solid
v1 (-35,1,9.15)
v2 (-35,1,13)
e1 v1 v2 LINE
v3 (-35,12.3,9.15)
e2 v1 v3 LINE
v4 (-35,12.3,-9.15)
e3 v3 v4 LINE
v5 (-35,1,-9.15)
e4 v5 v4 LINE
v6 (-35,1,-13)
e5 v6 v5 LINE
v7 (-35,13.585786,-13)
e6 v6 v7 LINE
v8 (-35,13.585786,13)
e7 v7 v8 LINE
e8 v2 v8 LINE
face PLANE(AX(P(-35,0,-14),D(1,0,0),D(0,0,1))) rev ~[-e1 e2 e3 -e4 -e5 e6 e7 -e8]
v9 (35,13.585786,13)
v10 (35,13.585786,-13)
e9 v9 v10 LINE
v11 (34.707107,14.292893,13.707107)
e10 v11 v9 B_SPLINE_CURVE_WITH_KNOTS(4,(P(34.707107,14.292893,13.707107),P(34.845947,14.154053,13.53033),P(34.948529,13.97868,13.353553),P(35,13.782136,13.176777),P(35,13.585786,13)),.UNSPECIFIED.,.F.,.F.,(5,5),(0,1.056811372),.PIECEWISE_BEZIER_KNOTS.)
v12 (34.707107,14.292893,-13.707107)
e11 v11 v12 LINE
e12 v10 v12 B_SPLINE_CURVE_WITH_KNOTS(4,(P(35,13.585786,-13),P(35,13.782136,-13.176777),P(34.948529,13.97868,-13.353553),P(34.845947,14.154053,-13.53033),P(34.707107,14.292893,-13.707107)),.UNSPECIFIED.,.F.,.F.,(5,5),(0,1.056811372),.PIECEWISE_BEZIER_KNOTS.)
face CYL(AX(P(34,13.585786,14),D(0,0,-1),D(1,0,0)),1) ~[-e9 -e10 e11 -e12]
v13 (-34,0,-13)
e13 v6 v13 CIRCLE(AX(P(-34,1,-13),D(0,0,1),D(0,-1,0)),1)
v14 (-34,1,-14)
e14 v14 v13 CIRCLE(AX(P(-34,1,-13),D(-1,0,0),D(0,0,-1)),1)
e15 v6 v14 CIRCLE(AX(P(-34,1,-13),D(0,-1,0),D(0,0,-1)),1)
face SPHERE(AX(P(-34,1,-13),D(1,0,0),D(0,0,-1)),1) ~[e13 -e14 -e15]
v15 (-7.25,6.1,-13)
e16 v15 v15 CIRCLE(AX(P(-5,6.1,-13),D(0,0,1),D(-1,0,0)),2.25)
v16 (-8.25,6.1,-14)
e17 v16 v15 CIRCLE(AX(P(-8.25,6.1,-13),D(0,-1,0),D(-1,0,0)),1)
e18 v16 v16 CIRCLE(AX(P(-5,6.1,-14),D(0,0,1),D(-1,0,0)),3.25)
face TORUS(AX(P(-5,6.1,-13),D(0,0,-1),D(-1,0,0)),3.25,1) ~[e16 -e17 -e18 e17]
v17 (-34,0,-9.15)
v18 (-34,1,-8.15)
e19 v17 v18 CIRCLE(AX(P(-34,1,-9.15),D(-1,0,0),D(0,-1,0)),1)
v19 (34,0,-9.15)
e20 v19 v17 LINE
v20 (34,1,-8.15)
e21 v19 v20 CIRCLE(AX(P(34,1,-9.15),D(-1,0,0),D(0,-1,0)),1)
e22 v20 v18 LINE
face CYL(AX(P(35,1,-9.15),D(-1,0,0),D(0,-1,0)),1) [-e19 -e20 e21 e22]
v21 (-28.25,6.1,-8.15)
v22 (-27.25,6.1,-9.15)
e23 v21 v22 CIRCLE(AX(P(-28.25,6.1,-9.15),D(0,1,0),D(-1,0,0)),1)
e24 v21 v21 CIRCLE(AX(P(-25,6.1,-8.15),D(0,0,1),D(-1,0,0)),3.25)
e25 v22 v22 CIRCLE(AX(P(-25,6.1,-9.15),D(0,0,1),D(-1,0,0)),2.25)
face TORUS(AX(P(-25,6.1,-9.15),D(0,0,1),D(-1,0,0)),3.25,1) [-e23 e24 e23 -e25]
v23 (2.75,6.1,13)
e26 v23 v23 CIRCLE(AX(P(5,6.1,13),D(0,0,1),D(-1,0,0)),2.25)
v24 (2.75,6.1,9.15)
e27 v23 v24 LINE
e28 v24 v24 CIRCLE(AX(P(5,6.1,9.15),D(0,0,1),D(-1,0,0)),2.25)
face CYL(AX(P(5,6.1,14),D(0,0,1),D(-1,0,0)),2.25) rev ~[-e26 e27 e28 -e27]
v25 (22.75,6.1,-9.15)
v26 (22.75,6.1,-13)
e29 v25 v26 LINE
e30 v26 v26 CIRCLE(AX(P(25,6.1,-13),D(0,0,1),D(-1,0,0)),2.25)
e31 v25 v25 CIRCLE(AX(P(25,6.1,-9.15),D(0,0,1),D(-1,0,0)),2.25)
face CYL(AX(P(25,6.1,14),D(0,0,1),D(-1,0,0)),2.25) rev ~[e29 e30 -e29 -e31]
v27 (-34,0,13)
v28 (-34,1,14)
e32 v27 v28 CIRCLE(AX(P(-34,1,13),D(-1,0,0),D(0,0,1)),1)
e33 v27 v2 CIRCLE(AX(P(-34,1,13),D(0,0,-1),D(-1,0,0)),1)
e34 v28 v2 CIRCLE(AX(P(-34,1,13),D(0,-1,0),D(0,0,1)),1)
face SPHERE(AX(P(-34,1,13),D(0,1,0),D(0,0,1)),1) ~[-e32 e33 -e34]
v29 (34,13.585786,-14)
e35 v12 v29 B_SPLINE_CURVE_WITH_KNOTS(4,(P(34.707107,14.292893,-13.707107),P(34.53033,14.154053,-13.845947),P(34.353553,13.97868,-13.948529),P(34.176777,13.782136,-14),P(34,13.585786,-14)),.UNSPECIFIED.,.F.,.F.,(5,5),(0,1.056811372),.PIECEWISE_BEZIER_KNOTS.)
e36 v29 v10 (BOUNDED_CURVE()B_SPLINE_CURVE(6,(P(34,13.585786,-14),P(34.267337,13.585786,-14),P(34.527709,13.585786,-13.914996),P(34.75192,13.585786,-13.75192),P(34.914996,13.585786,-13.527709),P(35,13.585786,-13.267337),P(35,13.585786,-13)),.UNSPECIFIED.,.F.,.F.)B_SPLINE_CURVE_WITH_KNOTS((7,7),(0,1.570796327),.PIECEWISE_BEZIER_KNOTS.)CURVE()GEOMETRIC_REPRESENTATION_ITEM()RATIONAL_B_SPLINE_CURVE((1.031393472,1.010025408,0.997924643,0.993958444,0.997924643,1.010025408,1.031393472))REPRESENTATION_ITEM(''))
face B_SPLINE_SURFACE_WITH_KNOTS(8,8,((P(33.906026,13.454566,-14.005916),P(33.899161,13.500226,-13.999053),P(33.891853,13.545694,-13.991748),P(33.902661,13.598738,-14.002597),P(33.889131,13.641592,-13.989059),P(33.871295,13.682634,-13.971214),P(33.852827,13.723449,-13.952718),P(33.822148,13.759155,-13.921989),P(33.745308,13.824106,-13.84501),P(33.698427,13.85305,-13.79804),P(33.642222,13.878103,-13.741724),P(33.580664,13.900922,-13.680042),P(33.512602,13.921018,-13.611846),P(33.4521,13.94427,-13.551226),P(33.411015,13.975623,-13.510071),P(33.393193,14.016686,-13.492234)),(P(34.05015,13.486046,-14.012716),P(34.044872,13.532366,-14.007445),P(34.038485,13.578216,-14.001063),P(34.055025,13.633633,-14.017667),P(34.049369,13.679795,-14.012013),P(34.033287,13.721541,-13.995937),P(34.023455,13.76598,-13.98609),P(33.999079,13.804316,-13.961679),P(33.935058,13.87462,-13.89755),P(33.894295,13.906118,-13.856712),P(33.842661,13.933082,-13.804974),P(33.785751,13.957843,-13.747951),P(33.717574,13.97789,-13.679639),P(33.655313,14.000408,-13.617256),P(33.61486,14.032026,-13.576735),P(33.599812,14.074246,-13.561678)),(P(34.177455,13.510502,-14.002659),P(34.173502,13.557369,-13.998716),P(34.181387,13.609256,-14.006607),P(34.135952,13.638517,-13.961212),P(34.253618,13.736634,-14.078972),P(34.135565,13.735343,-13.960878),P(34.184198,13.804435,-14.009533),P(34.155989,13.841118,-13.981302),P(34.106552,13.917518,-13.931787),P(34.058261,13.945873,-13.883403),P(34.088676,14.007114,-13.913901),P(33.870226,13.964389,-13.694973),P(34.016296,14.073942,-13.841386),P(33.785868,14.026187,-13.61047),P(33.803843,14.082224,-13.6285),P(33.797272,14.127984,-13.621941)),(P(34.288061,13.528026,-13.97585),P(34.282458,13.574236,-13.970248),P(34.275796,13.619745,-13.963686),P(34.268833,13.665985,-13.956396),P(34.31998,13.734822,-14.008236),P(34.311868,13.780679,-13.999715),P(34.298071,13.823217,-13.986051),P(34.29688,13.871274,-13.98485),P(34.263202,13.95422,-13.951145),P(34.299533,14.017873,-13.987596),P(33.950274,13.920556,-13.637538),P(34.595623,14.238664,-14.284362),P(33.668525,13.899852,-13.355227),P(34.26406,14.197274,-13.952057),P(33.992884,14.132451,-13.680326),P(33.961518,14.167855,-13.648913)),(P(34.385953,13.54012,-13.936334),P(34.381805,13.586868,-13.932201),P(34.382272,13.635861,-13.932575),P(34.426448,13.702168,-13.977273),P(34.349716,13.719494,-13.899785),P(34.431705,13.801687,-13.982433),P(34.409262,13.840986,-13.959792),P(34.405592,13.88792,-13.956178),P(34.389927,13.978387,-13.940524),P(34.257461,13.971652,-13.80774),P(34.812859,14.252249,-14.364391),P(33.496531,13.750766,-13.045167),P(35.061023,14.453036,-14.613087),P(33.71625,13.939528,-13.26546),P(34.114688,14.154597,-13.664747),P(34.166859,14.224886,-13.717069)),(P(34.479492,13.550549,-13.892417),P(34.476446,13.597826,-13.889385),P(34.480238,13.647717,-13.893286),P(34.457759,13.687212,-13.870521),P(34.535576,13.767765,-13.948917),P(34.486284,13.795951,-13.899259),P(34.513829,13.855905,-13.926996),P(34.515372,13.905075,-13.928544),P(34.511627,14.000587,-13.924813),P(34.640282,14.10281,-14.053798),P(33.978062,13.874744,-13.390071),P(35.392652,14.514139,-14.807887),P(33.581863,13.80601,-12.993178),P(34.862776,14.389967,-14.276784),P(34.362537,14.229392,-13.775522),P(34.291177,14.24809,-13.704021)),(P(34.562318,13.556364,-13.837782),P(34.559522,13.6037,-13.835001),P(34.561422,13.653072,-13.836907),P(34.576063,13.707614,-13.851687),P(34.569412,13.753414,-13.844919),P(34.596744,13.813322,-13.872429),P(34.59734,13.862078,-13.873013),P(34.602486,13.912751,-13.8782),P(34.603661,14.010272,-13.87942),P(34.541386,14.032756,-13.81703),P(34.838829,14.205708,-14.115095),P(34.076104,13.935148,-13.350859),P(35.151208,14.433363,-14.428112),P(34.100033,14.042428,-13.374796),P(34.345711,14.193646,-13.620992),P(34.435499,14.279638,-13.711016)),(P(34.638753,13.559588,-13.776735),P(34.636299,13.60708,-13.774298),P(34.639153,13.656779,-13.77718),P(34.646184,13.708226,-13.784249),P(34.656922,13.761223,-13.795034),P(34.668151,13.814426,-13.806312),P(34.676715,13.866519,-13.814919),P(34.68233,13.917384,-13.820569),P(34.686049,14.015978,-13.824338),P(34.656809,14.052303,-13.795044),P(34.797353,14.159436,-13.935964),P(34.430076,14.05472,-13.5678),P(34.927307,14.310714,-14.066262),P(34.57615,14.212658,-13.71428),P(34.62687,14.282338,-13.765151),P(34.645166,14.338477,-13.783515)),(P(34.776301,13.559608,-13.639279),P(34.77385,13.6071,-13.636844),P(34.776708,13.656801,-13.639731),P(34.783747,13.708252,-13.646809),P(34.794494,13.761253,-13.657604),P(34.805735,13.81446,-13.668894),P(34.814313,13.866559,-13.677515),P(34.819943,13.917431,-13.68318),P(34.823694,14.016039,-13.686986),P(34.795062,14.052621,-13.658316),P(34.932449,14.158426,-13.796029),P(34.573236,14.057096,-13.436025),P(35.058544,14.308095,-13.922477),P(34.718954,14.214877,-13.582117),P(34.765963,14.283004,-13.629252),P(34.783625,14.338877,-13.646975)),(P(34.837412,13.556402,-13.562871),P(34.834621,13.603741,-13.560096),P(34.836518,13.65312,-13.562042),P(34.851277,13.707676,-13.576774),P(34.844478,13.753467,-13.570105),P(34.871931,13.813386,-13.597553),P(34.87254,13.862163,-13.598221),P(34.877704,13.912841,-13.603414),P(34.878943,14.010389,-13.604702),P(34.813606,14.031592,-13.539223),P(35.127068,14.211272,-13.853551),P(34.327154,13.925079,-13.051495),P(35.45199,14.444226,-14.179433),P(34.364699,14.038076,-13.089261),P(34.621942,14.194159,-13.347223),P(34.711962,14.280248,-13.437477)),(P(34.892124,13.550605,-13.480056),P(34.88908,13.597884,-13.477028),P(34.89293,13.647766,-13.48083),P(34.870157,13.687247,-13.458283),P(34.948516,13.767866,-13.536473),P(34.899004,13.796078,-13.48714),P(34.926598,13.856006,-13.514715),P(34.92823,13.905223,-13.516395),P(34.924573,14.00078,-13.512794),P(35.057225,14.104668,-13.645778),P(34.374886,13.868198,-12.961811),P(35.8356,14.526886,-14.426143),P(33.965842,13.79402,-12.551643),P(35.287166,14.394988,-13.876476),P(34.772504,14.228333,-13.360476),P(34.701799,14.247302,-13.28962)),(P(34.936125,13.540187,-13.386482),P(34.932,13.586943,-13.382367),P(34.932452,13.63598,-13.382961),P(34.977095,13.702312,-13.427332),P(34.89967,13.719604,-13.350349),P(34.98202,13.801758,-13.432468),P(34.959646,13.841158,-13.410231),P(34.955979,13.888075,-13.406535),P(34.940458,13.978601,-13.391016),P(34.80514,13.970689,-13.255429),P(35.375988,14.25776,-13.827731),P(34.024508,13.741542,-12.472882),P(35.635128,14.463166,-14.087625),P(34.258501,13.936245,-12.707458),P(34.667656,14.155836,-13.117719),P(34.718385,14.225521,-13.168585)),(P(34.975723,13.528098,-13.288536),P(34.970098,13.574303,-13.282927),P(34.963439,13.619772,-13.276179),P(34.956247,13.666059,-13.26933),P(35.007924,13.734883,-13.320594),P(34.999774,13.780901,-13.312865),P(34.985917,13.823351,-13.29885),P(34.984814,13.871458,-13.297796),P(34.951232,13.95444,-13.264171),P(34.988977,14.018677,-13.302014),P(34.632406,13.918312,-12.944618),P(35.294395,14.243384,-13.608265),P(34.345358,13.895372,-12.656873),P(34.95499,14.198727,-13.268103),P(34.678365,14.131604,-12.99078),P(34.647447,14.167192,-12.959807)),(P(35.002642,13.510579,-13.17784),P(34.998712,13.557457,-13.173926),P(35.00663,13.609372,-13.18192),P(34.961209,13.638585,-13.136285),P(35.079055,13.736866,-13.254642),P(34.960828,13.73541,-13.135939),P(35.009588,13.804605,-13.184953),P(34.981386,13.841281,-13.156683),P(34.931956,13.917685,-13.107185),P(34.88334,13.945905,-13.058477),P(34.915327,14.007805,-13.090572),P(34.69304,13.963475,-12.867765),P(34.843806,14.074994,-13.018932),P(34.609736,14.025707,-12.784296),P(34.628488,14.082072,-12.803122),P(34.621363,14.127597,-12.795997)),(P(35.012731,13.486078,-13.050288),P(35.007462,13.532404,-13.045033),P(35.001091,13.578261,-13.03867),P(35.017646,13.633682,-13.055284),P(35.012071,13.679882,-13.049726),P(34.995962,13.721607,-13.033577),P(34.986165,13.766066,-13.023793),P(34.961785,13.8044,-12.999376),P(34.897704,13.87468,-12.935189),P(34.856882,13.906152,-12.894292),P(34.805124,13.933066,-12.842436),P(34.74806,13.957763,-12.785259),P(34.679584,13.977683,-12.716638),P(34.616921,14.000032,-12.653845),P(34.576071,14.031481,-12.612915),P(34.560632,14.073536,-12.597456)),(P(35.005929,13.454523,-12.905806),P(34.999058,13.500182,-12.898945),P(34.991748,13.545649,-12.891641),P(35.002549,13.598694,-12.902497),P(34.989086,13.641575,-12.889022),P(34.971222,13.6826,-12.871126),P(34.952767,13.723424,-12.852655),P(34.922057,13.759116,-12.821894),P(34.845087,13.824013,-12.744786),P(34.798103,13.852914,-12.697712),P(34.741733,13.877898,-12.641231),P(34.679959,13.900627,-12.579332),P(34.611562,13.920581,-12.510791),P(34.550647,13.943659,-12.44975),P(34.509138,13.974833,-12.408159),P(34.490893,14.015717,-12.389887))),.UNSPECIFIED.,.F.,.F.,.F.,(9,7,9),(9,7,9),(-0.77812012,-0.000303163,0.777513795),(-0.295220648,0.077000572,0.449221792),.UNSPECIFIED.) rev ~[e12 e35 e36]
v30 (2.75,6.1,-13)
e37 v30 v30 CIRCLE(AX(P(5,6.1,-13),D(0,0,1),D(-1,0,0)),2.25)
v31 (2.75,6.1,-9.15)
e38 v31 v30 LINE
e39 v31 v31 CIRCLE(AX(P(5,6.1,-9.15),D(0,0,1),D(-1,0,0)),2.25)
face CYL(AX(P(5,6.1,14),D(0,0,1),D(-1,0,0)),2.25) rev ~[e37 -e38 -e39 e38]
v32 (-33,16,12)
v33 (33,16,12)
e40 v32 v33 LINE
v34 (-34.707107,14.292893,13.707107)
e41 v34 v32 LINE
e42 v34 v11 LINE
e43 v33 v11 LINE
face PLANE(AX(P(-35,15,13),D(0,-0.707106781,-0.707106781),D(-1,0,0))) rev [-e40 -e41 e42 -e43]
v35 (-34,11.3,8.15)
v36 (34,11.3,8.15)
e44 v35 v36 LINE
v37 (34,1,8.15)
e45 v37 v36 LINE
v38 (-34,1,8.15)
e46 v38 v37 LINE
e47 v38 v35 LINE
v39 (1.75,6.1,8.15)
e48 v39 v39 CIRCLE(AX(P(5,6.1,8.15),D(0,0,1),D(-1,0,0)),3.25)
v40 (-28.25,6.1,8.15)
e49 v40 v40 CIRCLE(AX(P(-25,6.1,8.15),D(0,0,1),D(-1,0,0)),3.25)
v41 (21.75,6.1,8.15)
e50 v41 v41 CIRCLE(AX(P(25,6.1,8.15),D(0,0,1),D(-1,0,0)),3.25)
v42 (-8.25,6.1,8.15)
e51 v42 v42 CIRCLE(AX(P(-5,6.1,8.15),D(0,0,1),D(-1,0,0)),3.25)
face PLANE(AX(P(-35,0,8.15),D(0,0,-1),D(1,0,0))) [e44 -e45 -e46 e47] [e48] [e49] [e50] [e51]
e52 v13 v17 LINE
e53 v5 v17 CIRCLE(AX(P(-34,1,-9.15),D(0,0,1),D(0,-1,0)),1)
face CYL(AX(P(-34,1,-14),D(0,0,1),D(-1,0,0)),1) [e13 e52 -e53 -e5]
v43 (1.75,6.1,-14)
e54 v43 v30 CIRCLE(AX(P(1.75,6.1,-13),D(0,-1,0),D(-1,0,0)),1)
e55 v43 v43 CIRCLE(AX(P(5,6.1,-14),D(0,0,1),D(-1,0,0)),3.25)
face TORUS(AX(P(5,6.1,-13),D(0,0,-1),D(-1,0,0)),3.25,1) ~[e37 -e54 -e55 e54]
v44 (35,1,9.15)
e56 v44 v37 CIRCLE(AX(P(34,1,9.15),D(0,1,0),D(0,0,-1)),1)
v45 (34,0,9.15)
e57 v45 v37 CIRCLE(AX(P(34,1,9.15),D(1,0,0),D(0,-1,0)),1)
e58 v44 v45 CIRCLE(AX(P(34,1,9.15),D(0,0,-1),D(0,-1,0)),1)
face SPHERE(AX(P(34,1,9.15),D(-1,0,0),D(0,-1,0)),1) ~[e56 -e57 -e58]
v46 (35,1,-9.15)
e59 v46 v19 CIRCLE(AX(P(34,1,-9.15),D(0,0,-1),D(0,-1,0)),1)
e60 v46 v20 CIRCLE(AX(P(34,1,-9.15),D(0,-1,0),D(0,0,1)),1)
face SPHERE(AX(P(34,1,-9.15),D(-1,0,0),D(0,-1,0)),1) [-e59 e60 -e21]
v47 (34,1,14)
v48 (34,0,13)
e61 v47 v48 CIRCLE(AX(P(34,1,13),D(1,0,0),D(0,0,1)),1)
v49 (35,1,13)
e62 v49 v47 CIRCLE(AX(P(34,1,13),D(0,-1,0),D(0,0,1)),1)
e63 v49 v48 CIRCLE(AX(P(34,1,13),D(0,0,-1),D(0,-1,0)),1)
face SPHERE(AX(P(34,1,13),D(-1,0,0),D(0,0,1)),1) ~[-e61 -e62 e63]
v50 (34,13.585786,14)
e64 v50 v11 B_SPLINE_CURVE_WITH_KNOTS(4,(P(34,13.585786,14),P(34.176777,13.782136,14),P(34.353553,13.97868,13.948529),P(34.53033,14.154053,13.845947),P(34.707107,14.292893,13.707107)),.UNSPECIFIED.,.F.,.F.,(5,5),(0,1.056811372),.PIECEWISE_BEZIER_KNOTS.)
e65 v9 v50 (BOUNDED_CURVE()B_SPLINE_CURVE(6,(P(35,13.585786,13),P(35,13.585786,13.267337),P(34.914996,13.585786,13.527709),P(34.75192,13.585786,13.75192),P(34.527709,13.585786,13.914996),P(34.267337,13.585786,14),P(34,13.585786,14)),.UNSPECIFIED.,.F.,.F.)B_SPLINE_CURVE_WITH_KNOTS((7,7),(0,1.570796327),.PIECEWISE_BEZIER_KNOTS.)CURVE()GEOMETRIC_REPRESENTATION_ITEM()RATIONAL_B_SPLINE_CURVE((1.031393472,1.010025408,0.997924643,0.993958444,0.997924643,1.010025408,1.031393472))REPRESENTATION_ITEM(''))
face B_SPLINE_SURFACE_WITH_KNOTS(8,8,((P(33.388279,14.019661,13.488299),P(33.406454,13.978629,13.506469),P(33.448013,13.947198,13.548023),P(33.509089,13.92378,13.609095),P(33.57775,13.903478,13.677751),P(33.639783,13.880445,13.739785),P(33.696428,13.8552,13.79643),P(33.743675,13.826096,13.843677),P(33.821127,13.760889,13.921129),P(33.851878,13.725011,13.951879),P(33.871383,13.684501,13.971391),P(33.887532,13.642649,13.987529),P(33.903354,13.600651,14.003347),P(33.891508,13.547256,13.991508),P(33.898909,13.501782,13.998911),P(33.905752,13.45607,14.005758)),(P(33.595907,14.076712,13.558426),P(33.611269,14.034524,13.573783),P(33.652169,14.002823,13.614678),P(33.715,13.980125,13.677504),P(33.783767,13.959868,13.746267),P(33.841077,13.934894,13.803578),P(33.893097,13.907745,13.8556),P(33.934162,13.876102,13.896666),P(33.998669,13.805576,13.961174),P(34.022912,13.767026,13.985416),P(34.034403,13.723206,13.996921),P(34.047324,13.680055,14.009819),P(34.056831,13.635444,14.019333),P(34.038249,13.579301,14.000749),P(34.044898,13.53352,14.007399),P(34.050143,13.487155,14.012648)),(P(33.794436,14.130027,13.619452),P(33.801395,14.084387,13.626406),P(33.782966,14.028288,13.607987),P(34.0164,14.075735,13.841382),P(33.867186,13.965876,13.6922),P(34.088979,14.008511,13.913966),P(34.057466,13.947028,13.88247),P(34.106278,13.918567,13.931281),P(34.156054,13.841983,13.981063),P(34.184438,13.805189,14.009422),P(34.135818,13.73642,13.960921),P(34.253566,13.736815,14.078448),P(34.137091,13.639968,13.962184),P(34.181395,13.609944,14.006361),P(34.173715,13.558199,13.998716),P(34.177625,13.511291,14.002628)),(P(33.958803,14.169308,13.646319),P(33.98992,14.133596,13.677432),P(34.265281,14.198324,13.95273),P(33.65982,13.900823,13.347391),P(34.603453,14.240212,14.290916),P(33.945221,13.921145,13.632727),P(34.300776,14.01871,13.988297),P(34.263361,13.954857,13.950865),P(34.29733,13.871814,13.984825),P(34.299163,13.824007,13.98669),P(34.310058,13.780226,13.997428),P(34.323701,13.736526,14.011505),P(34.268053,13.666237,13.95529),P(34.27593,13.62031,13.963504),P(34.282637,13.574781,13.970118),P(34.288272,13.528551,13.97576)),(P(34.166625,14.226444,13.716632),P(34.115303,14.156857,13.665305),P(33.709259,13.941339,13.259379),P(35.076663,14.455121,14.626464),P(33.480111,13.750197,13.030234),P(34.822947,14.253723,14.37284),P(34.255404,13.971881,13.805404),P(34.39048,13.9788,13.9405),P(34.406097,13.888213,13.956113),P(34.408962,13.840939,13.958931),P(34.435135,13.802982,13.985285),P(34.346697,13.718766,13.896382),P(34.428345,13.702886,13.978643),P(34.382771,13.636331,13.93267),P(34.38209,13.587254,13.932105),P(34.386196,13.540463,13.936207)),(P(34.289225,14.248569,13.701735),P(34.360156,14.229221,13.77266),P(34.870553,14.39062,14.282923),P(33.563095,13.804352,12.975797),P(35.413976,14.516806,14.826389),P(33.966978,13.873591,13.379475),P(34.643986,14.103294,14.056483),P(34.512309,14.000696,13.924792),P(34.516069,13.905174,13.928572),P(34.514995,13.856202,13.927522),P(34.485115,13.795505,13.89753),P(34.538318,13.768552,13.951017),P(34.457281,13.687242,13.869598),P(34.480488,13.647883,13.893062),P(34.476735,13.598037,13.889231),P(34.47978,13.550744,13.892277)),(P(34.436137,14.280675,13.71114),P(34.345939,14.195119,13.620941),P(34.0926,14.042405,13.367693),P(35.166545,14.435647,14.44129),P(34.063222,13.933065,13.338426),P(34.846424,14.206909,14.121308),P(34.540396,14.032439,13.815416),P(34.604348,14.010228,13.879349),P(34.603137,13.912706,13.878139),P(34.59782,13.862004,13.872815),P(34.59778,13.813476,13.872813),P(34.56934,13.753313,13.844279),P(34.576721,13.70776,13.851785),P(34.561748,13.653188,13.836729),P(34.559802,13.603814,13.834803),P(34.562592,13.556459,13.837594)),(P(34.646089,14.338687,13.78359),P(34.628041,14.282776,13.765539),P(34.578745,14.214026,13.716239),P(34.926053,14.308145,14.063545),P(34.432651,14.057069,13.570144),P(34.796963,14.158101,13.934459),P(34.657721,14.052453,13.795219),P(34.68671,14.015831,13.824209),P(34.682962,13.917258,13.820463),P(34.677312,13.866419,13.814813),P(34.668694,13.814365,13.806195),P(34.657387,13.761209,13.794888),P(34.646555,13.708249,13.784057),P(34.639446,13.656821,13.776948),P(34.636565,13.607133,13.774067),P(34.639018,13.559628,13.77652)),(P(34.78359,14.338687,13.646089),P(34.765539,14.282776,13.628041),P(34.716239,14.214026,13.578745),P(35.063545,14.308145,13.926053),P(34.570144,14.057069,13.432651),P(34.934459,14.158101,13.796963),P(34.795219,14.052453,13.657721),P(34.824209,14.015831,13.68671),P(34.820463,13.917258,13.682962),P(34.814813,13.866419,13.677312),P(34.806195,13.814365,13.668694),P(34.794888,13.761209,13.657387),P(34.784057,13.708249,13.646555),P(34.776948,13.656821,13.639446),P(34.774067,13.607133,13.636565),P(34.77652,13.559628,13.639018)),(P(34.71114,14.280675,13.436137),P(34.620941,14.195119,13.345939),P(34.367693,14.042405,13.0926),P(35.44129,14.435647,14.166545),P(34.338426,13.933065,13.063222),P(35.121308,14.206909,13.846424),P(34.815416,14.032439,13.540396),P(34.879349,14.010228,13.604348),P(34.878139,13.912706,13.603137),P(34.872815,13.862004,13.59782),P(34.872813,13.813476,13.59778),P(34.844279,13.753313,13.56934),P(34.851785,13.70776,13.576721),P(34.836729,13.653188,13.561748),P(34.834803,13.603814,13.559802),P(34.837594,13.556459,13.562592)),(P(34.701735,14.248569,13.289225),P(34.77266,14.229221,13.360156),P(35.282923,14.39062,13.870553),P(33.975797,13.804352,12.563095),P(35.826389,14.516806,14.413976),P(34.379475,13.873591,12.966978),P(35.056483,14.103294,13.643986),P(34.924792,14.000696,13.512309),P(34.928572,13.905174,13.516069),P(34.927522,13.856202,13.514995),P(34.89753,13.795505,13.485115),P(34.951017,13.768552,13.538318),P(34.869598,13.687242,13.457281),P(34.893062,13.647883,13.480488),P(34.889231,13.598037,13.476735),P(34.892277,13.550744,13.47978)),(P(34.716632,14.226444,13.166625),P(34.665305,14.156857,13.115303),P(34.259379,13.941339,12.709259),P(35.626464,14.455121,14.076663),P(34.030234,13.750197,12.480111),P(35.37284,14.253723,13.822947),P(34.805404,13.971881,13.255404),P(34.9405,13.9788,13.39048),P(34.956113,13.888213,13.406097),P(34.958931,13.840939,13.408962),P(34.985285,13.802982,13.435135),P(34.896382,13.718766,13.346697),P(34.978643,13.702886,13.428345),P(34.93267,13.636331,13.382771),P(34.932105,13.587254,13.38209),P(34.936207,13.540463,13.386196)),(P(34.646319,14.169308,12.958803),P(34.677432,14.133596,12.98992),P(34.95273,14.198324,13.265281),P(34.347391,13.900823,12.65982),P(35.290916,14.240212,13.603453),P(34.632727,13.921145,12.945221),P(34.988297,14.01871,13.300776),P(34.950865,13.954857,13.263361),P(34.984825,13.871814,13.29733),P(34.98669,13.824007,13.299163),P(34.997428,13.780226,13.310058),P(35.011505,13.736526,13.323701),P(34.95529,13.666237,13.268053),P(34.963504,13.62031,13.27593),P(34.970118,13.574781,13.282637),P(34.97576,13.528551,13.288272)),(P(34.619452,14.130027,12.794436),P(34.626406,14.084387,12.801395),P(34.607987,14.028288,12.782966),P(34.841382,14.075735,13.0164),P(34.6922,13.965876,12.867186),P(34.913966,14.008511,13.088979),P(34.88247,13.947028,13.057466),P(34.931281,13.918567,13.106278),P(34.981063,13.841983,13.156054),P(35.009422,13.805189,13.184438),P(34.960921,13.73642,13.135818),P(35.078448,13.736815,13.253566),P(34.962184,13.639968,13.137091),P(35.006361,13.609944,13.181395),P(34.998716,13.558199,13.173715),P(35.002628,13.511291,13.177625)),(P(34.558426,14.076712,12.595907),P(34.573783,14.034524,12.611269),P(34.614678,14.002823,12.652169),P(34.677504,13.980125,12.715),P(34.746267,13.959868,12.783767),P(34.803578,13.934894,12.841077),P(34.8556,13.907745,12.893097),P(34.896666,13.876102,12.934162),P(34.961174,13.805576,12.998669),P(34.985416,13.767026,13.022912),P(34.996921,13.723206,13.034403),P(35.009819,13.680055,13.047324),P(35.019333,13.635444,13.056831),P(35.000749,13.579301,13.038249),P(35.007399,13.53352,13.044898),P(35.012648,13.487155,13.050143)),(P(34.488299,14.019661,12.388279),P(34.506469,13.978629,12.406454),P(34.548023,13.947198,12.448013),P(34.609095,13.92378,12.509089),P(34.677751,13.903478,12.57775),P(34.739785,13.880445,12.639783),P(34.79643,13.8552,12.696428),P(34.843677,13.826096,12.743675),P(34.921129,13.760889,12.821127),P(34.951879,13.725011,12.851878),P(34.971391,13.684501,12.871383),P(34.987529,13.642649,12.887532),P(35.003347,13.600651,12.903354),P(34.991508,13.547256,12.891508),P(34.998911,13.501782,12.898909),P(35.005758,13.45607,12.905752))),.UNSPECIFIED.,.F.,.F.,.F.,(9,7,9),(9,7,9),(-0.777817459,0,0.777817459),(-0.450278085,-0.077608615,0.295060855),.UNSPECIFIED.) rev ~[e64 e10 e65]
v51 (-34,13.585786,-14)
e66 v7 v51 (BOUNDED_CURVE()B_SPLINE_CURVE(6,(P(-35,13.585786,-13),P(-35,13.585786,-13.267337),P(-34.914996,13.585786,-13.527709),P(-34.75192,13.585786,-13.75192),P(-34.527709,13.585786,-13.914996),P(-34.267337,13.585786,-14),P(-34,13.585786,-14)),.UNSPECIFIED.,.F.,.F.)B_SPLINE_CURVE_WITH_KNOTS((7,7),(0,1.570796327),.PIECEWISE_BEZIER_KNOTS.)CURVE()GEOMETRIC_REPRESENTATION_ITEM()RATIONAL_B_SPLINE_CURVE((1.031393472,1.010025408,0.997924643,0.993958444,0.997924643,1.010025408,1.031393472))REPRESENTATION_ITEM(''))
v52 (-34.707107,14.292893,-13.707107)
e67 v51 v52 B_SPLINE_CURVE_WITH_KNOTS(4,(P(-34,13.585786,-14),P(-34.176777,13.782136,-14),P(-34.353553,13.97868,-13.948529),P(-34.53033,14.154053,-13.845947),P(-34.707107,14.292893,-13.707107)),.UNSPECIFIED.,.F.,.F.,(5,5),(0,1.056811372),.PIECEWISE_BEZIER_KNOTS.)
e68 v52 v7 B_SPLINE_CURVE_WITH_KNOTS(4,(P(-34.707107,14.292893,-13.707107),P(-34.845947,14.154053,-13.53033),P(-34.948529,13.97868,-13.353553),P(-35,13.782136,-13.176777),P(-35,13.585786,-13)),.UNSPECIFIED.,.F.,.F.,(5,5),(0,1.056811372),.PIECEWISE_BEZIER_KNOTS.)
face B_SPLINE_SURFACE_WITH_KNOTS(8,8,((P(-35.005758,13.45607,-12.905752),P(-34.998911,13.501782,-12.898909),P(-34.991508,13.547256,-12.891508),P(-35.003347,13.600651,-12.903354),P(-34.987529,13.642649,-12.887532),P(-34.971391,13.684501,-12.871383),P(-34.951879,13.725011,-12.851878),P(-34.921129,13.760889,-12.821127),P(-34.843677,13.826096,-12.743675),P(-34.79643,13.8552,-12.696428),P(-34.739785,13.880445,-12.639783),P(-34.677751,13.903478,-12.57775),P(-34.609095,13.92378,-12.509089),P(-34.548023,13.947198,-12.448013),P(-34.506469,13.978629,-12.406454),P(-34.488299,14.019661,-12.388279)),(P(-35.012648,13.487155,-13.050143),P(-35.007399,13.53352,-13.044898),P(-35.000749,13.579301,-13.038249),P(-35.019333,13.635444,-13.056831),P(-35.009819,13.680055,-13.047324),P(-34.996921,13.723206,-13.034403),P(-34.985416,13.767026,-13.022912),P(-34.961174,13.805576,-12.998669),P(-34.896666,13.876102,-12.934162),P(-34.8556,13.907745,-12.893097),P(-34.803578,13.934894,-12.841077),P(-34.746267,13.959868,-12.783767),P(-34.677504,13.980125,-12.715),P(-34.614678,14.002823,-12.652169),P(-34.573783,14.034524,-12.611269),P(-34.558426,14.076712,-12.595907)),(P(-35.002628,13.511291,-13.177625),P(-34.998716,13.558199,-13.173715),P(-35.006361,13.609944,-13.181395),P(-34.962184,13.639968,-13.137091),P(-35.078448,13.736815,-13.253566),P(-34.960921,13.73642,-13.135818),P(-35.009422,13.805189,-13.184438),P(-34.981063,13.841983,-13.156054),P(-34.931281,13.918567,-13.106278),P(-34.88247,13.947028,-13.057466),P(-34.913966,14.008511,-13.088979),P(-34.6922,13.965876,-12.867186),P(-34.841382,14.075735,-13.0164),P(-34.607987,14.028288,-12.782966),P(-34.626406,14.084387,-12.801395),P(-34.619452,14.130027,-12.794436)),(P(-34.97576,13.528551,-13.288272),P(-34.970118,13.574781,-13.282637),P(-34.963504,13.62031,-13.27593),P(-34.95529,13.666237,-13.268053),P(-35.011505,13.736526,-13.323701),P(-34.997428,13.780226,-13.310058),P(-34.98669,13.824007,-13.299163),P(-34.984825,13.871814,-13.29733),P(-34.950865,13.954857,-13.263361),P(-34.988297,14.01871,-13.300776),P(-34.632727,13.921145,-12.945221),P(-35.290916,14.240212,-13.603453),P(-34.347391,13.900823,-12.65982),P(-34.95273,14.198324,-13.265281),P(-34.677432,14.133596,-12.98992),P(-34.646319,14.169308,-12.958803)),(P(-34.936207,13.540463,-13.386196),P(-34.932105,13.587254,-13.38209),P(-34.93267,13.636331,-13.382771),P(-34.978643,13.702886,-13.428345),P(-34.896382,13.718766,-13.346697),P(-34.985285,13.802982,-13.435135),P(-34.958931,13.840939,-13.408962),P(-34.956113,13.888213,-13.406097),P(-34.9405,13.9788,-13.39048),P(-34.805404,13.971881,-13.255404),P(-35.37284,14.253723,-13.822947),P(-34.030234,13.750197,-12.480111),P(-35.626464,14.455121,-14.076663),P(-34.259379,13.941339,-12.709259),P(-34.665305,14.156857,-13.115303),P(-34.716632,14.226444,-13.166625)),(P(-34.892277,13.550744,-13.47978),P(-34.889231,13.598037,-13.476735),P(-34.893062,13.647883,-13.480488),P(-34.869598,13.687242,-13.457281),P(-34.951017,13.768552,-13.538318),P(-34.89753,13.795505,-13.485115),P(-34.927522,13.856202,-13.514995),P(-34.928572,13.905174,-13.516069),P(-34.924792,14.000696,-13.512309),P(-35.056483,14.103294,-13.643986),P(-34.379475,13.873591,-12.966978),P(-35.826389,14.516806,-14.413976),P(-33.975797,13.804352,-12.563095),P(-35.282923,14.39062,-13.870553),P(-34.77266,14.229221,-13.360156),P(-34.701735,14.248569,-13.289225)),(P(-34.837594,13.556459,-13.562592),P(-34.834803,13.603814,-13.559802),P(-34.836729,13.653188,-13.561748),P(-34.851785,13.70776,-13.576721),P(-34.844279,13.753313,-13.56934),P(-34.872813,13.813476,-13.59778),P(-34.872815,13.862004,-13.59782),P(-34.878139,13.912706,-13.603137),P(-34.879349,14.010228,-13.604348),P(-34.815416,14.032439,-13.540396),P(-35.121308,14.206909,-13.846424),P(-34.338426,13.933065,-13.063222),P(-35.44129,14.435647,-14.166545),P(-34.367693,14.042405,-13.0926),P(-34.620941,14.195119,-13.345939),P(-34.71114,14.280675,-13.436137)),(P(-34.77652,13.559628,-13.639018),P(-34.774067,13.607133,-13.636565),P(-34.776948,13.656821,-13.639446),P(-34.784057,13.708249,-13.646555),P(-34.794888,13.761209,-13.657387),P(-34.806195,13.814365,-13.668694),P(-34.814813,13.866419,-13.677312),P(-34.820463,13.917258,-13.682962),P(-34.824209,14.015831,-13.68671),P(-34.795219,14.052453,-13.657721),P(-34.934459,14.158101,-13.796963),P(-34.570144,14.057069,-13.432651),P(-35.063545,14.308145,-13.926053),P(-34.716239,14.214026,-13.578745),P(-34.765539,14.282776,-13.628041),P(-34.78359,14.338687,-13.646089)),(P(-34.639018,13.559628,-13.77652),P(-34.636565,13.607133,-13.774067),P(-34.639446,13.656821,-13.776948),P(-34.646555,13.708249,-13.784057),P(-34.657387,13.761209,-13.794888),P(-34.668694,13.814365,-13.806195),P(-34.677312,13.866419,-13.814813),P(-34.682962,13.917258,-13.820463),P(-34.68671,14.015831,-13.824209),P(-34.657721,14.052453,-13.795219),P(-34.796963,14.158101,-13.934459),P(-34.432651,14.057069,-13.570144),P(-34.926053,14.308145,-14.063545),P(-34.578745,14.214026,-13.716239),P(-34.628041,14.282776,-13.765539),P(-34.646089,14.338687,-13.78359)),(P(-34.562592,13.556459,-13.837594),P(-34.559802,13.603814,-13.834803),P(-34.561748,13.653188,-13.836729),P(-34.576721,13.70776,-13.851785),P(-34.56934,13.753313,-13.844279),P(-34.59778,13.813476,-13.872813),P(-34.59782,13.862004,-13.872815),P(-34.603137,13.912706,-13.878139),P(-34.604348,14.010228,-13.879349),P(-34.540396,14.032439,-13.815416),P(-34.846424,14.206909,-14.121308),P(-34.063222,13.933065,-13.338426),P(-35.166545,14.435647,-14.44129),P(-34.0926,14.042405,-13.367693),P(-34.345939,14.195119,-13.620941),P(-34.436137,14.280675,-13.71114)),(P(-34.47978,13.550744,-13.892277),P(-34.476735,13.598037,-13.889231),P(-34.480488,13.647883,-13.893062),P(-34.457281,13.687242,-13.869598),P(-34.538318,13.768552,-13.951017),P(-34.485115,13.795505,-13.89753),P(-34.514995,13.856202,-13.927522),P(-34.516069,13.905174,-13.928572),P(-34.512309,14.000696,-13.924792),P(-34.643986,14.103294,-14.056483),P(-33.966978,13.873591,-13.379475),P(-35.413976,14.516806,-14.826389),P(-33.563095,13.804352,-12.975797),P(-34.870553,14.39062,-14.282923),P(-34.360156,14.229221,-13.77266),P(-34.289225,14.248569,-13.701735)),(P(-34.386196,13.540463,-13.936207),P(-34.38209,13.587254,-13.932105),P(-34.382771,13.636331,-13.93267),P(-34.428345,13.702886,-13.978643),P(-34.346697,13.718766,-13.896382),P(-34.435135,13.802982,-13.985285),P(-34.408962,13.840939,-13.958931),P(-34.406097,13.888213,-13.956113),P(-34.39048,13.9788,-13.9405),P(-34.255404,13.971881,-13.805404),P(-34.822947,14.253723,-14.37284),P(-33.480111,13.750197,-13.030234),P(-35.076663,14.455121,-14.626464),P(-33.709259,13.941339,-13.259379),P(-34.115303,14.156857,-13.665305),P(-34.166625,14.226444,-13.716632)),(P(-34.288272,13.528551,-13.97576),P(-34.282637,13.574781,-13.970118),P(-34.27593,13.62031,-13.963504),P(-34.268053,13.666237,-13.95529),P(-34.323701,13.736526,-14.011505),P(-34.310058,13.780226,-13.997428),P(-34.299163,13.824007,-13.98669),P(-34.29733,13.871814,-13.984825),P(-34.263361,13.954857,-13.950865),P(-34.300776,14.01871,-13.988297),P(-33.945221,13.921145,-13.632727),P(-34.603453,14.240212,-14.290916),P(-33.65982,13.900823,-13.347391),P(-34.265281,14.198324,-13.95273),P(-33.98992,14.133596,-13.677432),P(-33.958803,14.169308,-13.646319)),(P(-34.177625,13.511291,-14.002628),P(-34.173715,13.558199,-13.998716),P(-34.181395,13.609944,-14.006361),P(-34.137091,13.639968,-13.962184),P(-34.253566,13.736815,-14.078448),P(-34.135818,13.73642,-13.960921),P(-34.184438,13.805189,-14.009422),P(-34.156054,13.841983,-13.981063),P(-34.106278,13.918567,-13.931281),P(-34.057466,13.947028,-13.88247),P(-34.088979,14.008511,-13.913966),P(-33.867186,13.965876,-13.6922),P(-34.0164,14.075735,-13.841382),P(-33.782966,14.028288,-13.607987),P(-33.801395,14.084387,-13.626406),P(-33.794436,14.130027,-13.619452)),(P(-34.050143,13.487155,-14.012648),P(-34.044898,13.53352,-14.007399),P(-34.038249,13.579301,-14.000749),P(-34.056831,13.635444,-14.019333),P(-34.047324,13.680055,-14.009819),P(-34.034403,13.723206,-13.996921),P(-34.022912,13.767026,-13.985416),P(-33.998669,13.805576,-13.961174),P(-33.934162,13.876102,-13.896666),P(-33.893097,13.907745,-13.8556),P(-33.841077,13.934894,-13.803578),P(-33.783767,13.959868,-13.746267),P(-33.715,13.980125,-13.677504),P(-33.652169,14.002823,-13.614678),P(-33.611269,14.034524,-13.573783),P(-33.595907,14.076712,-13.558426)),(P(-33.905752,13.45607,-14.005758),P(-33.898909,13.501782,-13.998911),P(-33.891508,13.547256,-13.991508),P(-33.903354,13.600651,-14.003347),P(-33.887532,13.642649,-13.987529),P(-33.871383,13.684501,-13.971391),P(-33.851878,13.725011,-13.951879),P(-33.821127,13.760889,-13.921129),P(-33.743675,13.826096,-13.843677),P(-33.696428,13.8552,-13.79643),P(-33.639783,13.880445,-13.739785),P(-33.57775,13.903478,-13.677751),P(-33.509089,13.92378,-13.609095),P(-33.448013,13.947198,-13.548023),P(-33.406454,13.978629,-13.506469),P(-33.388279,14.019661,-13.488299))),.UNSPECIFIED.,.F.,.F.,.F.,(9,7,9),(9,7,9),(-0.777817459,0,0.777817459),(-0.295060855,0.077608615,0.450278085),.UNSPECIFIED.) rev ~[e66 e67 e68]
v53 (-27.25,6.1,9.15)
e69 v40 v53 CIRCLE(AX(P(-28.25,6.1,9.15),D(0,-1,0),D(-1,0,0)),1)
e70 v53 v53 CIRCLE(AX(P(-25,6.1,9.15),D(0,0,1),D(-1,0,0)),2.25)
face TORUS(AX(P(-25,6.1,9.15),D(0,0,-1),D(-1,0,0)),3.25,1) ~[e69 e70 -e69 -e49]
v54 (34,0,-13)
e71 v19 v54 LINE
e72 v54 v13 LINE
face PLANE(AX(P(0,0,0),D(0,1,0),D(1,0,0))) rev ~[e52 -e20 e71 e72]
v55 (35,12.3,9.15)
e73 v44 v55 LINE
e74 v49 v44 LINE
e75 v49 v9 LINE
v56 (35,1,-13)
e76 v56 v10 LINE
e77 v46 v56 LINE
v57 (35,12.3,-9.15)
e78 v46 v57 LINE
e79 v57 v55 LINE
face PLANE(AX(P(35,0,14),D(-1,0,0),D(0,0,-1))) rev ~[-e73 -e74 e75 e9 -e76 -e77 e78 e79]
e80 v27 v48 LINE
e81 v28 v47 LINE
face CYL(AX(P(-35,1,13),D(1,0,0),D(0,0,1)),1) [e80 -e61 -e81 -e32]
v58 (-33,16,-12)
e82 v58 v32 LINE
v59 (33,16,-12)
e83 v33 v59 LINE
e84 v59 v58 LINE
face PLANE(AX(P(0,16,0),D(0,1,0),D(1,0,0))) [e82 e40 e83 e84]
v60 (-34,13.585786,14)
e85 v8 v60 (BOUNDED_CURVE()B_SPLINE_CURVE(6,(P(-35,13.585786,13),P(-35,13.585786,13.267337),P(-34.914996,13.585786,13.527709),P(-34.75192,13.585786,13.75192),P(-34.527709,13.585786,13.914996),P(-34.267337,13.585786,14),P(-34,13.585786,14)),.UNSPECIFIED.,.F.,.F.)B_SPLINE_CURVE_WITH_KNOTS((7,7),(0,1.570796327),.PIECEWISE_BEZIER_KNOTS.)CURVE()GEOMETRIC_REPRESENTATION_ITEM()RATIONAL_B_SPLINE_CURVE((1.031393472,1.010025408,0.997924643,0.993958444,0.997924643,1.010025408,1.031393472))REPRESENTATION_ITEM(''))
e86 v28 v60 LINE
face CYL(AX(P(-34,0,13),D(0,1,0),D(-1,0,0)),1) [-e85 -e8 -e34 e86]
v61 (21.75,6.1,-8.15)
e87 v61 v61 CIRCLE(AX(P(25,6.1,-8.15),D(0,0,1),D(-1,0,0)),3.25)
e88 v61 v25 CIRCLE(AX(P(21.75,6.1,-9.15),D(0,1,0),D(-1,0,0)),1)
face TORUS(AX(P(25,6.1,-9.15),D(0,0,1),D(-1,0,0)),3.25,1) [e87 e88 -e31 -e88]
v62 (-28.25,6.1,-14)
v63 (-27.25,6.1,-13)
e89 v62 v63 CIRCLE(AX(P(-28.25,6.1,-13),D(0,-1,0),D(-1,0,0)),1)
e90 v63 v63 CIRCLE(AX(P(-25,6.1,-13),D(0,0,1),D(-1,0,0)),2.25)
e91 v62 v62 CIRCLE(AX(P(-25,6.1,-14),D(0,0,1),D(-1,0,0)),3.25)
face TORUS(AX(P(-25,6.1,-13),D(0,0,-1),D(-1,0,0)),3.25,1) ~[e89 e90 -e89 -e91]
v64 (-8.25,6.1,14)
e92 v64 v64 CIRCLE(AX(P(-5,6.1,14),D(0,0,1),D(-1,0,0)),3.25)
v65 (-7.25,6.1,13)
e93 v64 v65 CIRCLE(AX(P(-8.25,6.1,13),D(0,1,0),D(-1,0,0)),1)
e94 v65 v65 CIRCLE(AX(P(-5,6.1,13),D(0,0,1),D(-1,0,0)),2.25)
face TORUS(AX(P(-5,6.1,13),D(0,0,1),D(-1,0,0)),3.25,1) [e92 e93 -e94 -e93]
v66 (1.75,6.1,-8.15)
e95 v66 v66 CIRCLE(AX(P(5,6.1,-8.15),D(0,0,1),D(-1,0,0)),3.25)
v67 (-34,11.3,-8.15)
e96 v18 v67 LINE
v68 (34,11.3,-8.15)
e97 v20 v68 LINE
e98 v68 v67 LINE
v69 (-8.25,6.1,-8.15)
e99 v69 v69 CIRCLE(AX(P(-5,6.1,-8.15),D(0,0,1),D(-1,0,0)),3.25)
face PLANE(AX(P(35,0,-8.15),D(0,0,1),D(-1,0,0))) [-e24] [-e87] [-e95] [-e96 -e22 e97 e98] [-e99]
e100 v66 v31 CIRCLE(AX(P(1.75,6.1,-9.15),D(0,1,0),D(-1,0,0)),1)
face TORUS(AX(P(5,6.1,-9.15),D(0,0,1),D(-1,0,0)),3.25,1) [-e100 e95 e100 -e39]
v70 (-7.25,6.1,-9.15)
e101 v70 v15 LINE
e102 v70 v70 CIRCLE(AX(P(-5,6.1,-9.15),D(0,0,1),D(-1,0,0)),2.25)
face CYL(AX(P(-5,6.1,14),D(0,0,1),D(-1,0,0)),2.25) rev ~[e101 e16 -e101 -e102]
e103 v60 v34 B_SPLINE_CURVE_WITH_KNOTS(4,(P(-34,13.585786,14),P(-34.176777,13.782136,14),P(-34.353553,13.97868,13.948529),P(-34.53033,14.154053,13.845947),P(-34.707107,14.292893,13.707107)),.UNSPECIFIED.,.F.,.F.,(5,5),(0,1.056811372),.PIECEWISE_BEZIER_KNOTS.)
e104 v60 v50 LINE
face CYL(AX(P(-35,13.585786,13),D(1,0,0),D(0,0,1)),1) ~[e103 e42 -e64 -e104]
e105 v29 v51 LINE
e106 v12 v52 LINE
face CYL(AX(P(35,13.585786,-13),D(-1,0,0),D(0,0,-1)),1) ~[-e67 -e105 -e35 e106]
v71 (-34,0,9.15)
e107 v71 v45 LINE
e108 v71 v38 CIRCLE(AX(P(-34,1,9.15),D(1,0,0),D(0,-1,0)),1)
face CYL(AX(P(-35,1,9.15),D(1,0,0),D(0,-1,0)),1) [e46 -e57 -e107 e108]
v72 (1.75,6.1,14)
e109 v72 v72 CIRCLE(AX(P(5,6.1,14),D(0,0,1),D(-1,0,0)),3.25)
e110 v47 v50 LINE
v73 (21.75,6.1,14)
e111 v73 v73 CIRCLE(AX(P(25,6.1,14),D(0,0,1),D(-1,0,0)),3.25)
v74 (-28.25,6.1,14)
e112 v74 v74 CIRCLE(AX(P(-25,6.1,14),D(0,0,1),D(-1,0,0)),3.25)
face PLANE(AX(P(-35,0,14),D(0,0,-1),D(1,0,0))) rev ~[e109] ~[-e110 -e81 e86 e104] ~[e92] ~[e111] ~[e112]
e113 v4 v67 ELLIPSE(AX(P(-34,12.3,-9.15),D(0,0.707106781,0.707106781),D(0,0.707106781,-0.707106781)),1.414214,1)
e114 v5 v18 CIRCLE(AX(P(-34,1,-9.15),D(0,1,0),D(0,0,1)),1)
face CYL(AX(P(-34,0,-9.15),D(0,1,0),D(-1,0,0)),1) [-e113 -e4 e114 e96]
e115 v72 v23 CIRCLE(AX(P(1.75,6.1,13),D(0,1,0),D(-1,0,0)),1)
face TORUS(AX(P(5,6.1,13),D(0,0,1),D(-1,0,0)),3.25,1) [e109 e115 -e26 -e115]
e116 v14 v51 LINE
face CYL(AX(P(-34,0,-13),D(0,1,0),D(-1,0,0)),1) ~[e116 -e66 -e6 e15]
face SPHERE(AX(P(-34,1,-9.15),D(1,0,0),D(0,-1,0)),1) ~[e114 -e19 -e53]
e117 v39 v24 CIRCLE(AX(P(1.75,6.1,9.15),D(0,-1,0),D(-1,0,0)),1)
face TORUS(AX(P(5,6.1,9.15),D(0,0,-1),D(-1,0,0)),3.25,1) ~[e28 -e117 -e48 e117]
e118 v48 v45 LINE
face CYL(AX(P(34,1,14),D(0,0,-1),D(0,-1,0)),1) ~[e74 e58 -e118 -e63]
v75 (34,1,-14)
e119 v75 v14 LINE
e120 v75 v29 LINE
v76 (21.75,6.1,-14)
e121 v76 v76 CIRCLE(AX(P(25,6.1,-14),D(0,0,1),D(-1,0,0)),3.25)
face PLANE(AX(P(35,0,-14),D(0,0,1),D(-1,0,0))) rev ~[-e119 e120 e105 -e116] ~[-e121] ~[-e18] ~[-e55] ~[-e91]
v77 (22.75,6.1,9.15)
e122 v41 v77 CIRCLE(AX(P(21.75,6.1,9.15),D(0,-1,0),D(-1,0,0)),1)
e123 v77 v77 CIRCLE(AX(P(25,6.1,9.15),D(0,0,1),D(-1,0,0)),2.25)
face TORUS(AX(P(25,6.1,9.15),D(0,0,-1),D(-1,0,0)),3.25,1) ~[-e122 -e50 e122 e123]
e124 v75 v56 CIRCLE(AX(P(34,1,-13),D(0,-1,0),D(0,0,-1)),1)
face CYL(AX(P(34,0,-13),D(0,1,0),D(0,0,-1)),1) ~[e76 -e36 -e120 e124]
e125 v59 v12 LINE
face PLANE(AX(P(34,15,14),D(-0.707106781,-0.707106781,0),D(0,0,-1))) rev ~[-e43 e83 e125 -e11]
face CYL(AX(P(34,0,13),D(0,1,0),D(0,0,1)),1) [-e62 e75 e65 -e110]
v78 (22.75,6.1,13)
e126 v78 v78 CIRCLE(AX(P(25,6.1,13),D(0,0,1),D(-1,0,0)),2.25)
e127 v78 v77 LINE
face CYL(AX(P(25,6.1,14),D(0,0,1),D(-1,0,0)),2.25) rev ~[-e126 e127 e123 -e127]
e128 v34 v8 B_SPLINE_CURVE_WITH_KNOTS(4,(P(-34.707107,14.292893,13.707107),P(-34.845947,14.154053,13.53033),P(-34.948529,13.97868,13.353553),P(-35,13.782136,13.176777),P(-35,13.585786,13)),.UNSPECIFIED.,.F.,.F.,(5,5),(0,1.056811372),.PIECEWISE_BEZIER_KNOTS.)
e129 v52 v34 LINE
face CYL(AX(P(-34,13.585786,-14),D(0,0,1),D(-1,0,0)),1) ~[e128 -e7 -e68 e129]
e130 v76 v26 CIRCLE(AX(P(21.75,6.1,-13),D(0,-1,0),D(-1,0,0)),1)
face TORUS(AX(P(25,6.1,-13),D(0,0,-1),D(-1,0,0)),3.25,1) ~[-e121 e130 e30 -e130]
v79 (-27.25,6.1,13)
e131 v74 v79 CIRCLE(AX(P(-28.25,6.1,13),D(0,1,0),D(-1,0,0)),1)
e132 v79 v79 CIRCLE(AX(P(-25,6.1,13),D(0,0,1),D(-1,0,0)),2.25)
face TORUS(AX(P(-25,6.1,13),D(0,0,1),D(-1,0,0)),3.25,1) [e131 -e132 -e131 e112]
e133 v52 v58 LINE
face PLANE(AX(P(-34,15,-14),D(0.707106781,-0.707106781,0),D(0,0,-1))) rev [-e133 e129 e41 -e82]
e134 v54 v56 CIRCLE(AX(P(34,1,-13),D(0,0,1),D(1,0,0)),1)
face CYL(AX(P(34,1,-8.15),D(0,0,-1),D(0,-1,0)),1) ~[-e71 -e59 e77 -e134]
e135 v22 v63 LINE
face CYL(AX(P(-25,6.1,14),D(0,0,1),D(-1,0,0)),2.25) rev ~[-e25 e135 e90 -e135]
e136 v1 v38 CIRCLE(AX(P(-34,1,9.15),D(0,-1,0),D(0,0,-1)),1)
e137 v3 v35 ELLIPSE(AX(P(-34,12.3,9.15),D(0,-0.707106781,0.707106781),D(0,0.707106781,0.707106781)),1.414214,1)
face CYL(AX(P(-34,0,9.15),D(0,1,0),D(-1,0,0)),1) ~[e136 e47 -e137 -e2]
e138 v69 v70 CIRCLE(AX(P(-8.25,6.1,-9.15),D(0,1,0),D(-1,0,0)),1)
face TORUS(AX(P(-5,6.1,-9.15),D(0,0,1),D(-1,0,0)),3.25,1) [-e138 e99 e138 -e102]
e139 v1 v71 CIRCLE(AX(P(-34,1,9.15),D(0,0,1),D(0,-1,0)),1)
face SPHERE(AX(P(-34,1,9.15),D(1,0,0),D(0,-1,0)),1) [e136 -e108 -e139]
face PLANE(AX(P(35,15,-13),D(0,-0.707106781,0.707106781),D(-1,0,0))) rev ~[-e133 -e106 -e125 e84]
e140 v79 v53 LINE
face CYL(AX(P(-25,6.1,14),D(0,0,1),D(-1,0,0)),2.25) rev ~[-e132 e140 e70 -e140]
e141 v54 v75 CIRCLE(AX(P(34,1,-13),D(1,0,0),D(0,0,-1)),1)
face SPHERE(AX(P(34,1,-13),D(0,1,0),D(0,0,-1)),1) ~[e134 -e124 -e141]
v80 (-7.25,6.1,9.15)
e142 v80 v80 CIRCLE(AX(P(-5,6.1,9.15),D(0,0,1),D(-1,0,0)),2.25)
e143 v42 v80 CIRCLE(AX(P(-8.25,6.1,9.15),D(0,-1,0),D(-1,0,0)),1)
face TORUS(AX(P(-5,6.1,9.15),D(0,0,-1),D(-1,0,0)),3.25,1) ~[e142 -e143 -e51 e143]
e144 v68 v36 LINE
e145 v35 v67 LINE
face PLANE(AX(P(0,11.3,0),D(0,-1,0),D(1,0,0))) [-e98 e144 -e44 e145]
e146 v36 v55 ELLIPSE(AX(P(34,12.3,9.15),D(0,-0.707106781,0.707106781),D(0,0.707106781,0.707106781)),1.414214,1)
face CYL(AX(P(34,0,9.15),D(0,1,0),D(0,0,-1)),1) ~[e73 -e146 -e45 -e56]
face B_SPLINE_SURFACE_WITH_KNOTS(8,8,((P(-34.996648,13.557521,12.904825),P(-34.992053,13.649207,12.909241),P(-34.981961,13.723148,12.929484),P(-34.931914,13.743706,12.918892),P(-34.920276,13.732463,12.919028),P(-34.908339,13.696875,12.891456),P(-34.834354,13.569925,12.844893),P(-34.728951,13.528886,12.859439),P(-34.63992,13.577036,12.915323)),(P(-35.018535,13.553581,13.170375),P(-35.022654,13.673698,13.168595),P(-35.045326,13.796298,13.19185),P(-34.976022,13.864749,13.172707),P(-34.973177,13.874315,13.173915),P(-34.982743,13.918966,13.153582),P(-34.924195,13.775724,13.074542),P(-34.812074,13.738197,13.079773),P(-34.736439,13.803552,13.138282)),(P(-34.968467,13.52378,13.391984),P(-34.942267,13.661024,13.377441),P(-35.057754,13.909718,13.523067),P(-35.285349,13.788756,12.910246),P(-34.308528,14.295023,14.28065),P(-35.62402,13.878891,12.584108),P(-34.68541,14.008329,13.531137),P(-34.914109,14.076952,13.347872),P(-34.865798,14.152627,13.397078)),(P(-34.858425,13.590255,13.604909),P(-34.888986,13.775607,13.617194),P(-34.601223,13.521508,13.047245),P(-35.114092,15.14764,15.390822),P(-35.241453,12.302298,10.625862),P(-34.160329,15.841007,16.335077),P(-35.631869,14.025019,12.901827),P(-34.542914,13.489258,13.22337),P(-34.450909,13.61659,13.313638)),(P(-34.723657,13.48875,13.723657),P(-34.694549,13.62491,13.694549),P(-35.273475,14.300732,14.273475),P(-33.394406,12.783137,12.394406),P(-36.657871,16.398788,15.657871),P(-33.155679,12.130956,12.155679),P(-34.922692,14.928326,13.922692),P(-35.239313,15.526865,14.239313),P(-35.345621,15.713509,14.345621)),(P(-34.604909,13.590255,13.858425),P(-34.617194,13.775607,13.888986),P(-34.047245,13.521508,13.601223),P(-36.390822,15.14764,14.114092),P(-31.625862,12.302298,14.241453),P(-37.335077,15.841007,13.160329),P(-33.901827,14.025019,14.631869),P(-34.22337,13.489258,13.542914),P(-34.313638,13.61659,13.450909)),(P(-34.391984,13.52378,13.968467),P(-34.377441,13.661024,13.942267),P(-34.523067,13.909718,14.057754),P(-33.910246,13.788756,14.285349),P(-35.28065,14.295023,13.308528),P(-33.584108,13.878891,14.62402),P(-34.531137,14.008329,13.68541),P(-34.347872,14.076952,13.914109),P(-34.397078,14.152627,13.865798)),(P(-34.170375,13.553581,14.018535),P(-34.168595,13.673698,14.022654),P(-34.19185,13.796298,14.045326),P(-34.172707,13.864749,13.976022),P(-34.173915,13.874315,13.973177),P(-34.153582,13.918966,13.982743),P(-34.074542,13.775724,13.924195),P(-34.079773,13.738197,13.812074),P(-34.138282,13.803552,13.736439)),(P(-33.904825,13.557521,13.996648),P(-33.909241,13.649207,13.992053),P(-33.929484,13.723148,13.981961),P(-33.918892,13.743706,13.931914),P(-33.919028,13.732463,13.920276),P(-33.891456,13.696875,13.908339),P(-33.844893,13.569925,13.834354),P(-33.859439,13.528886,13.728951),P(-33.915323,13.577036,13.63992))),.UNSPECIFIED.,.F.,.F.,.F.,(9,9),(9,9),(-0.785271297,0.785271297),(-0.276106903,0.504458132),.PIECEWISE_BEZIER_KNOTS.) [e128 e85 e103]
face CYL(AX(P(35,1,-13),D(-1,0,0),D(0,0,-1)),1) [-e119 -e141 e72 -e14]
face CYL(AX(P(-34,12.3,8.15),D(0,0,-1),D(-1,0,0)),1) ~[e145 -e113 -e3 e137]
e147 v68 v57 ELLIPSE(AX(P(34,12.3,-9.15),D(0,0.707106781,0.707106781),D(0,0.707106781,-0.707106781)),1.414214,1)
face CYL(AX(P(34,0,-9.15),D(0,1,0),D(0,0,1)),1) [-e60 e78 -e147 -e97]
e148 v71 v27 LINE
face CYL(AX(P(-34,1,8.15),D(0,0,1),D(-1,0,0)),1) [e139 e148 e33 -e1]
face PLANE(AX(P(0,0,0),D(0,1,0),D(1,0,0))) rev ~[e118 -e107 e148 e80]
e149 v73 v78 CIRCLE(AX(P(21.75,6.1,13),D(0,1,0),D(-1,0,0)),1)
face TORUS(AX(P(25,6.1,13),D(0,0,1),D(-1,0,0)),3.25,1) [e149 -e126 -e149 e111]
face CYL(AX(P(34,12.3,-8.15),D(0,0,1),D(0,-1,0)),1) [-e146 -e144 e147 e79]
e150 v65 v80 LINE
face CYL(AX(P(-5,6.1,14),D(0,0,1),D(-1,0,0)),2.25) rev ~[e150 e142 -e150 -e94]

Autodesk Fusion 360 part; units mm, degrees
sketch "Sketch1" plane through (0, 0, 0) normal (0, 1, 0) x (1, 0, 0)
  line L0 (-35, -14) -> (35, -14)
  line L1 (35, -14) -> (35, 14)
  line L2 (35, 14) -> (-35, 14)
  line L3 (-35, 14) -> (-35, -14)
  line L4 (-35, -14) -> (35, 14) construction
  line L5 (35, -14) -> (-35, 14) construction
  dimension "d1" = 70
  dimension "d2" = 28
extrude "Extrude1" add sketch "Sketch1" along normal blind 16
sketch "Sketch2" plane through (0, 0, 0) normal (0, -1, 0) x (1, 0, 0)
  line L0 (-35, 14) -> (-35, -14)
  line L1 (-35, -14) -> (35, -14)
  line L2 (35, -14) -> (35, 14)
  line L3 (35, 14) -> (-35, 14)
  line L4 (-35, 8.15) -> (35, 8.15)
  line L5 (35, 8.15) -> (35, -8.15)
  line L6 (35, -8.15) -> (-35, -8.15)
  line L7 (-35, -8.15) -> (-35, 8.15)
  line L8 (-35, 8.15) -> (35, -8.15) construction
  line L9 (35, 8.15) -> (-35, -8.15) construction
  dimension "d5" = 70
  dimension "d6" = 16.3
extrude "Extrude2" cut sketch "Sketch2" against normal blind 11.3 contours L0 L2 L4 L5 L6 L7
sketch "Sketch3" plane through (0, 0, 14) normal (0, 0, 1) x (-1, 0, 0)
  line L0 (35, 0) -> (-35, 0)
  line L1 (-35, 0) -> (-35, -16)
  line L2 (-35, -16) -> (35, -16)
  line L3 (35, -16) -> (35, 0)
  circle A0 centre (-5, -6.1) radius 2.25
  line L4 (35, -11.3) -> (-35, -11.3)
  circle A1 centre (-25, -6.1) radius 2.25
  line L5 (0, -1.75) -> (0, -22.5)
  circle A2 centre (25, -6.1) radius 2.25
  circle A3 centre (5, -6.1) radius 2.25
  dimension "d9" = 4.5
  dimension "d10" = 5.2
  dimension "d11" = 5
  dimension "d12" = 4.5
  dimension "d13" = 20
  dimension "d14" = 5.2
extrude "Extrude3" cut sketch "Sketch3" against normal blind 40 contours A0 | A1 | A2 | A3
chamfer "Chamfer1" distance 2 angle 45 1 faces at (-11.6667, 16, -4.6667)
fillet "Fillet1" radius 1 10 edges at (0, 0, -8.15) (0, 0, 8.15) (-22.9023, 5.2864, -8.15) (-2.9023, 5.2864, -8.15) (7.0977, 5.2864, -8.15) (27.0977, 5.2864, -8.15) (27.0977, 6.9136, 8.15) (7.0977, 6.9136, 8.15) (-2.9023, 6.9136, 8.15) (-22.9023, 6.9136, 8.15) 4 faces at (-32.4083, 6.8118, 14) (-32.4083, 6.8118, -14) (35, 8.4333, -12.05) (-35, 8.4333, -12.05)
